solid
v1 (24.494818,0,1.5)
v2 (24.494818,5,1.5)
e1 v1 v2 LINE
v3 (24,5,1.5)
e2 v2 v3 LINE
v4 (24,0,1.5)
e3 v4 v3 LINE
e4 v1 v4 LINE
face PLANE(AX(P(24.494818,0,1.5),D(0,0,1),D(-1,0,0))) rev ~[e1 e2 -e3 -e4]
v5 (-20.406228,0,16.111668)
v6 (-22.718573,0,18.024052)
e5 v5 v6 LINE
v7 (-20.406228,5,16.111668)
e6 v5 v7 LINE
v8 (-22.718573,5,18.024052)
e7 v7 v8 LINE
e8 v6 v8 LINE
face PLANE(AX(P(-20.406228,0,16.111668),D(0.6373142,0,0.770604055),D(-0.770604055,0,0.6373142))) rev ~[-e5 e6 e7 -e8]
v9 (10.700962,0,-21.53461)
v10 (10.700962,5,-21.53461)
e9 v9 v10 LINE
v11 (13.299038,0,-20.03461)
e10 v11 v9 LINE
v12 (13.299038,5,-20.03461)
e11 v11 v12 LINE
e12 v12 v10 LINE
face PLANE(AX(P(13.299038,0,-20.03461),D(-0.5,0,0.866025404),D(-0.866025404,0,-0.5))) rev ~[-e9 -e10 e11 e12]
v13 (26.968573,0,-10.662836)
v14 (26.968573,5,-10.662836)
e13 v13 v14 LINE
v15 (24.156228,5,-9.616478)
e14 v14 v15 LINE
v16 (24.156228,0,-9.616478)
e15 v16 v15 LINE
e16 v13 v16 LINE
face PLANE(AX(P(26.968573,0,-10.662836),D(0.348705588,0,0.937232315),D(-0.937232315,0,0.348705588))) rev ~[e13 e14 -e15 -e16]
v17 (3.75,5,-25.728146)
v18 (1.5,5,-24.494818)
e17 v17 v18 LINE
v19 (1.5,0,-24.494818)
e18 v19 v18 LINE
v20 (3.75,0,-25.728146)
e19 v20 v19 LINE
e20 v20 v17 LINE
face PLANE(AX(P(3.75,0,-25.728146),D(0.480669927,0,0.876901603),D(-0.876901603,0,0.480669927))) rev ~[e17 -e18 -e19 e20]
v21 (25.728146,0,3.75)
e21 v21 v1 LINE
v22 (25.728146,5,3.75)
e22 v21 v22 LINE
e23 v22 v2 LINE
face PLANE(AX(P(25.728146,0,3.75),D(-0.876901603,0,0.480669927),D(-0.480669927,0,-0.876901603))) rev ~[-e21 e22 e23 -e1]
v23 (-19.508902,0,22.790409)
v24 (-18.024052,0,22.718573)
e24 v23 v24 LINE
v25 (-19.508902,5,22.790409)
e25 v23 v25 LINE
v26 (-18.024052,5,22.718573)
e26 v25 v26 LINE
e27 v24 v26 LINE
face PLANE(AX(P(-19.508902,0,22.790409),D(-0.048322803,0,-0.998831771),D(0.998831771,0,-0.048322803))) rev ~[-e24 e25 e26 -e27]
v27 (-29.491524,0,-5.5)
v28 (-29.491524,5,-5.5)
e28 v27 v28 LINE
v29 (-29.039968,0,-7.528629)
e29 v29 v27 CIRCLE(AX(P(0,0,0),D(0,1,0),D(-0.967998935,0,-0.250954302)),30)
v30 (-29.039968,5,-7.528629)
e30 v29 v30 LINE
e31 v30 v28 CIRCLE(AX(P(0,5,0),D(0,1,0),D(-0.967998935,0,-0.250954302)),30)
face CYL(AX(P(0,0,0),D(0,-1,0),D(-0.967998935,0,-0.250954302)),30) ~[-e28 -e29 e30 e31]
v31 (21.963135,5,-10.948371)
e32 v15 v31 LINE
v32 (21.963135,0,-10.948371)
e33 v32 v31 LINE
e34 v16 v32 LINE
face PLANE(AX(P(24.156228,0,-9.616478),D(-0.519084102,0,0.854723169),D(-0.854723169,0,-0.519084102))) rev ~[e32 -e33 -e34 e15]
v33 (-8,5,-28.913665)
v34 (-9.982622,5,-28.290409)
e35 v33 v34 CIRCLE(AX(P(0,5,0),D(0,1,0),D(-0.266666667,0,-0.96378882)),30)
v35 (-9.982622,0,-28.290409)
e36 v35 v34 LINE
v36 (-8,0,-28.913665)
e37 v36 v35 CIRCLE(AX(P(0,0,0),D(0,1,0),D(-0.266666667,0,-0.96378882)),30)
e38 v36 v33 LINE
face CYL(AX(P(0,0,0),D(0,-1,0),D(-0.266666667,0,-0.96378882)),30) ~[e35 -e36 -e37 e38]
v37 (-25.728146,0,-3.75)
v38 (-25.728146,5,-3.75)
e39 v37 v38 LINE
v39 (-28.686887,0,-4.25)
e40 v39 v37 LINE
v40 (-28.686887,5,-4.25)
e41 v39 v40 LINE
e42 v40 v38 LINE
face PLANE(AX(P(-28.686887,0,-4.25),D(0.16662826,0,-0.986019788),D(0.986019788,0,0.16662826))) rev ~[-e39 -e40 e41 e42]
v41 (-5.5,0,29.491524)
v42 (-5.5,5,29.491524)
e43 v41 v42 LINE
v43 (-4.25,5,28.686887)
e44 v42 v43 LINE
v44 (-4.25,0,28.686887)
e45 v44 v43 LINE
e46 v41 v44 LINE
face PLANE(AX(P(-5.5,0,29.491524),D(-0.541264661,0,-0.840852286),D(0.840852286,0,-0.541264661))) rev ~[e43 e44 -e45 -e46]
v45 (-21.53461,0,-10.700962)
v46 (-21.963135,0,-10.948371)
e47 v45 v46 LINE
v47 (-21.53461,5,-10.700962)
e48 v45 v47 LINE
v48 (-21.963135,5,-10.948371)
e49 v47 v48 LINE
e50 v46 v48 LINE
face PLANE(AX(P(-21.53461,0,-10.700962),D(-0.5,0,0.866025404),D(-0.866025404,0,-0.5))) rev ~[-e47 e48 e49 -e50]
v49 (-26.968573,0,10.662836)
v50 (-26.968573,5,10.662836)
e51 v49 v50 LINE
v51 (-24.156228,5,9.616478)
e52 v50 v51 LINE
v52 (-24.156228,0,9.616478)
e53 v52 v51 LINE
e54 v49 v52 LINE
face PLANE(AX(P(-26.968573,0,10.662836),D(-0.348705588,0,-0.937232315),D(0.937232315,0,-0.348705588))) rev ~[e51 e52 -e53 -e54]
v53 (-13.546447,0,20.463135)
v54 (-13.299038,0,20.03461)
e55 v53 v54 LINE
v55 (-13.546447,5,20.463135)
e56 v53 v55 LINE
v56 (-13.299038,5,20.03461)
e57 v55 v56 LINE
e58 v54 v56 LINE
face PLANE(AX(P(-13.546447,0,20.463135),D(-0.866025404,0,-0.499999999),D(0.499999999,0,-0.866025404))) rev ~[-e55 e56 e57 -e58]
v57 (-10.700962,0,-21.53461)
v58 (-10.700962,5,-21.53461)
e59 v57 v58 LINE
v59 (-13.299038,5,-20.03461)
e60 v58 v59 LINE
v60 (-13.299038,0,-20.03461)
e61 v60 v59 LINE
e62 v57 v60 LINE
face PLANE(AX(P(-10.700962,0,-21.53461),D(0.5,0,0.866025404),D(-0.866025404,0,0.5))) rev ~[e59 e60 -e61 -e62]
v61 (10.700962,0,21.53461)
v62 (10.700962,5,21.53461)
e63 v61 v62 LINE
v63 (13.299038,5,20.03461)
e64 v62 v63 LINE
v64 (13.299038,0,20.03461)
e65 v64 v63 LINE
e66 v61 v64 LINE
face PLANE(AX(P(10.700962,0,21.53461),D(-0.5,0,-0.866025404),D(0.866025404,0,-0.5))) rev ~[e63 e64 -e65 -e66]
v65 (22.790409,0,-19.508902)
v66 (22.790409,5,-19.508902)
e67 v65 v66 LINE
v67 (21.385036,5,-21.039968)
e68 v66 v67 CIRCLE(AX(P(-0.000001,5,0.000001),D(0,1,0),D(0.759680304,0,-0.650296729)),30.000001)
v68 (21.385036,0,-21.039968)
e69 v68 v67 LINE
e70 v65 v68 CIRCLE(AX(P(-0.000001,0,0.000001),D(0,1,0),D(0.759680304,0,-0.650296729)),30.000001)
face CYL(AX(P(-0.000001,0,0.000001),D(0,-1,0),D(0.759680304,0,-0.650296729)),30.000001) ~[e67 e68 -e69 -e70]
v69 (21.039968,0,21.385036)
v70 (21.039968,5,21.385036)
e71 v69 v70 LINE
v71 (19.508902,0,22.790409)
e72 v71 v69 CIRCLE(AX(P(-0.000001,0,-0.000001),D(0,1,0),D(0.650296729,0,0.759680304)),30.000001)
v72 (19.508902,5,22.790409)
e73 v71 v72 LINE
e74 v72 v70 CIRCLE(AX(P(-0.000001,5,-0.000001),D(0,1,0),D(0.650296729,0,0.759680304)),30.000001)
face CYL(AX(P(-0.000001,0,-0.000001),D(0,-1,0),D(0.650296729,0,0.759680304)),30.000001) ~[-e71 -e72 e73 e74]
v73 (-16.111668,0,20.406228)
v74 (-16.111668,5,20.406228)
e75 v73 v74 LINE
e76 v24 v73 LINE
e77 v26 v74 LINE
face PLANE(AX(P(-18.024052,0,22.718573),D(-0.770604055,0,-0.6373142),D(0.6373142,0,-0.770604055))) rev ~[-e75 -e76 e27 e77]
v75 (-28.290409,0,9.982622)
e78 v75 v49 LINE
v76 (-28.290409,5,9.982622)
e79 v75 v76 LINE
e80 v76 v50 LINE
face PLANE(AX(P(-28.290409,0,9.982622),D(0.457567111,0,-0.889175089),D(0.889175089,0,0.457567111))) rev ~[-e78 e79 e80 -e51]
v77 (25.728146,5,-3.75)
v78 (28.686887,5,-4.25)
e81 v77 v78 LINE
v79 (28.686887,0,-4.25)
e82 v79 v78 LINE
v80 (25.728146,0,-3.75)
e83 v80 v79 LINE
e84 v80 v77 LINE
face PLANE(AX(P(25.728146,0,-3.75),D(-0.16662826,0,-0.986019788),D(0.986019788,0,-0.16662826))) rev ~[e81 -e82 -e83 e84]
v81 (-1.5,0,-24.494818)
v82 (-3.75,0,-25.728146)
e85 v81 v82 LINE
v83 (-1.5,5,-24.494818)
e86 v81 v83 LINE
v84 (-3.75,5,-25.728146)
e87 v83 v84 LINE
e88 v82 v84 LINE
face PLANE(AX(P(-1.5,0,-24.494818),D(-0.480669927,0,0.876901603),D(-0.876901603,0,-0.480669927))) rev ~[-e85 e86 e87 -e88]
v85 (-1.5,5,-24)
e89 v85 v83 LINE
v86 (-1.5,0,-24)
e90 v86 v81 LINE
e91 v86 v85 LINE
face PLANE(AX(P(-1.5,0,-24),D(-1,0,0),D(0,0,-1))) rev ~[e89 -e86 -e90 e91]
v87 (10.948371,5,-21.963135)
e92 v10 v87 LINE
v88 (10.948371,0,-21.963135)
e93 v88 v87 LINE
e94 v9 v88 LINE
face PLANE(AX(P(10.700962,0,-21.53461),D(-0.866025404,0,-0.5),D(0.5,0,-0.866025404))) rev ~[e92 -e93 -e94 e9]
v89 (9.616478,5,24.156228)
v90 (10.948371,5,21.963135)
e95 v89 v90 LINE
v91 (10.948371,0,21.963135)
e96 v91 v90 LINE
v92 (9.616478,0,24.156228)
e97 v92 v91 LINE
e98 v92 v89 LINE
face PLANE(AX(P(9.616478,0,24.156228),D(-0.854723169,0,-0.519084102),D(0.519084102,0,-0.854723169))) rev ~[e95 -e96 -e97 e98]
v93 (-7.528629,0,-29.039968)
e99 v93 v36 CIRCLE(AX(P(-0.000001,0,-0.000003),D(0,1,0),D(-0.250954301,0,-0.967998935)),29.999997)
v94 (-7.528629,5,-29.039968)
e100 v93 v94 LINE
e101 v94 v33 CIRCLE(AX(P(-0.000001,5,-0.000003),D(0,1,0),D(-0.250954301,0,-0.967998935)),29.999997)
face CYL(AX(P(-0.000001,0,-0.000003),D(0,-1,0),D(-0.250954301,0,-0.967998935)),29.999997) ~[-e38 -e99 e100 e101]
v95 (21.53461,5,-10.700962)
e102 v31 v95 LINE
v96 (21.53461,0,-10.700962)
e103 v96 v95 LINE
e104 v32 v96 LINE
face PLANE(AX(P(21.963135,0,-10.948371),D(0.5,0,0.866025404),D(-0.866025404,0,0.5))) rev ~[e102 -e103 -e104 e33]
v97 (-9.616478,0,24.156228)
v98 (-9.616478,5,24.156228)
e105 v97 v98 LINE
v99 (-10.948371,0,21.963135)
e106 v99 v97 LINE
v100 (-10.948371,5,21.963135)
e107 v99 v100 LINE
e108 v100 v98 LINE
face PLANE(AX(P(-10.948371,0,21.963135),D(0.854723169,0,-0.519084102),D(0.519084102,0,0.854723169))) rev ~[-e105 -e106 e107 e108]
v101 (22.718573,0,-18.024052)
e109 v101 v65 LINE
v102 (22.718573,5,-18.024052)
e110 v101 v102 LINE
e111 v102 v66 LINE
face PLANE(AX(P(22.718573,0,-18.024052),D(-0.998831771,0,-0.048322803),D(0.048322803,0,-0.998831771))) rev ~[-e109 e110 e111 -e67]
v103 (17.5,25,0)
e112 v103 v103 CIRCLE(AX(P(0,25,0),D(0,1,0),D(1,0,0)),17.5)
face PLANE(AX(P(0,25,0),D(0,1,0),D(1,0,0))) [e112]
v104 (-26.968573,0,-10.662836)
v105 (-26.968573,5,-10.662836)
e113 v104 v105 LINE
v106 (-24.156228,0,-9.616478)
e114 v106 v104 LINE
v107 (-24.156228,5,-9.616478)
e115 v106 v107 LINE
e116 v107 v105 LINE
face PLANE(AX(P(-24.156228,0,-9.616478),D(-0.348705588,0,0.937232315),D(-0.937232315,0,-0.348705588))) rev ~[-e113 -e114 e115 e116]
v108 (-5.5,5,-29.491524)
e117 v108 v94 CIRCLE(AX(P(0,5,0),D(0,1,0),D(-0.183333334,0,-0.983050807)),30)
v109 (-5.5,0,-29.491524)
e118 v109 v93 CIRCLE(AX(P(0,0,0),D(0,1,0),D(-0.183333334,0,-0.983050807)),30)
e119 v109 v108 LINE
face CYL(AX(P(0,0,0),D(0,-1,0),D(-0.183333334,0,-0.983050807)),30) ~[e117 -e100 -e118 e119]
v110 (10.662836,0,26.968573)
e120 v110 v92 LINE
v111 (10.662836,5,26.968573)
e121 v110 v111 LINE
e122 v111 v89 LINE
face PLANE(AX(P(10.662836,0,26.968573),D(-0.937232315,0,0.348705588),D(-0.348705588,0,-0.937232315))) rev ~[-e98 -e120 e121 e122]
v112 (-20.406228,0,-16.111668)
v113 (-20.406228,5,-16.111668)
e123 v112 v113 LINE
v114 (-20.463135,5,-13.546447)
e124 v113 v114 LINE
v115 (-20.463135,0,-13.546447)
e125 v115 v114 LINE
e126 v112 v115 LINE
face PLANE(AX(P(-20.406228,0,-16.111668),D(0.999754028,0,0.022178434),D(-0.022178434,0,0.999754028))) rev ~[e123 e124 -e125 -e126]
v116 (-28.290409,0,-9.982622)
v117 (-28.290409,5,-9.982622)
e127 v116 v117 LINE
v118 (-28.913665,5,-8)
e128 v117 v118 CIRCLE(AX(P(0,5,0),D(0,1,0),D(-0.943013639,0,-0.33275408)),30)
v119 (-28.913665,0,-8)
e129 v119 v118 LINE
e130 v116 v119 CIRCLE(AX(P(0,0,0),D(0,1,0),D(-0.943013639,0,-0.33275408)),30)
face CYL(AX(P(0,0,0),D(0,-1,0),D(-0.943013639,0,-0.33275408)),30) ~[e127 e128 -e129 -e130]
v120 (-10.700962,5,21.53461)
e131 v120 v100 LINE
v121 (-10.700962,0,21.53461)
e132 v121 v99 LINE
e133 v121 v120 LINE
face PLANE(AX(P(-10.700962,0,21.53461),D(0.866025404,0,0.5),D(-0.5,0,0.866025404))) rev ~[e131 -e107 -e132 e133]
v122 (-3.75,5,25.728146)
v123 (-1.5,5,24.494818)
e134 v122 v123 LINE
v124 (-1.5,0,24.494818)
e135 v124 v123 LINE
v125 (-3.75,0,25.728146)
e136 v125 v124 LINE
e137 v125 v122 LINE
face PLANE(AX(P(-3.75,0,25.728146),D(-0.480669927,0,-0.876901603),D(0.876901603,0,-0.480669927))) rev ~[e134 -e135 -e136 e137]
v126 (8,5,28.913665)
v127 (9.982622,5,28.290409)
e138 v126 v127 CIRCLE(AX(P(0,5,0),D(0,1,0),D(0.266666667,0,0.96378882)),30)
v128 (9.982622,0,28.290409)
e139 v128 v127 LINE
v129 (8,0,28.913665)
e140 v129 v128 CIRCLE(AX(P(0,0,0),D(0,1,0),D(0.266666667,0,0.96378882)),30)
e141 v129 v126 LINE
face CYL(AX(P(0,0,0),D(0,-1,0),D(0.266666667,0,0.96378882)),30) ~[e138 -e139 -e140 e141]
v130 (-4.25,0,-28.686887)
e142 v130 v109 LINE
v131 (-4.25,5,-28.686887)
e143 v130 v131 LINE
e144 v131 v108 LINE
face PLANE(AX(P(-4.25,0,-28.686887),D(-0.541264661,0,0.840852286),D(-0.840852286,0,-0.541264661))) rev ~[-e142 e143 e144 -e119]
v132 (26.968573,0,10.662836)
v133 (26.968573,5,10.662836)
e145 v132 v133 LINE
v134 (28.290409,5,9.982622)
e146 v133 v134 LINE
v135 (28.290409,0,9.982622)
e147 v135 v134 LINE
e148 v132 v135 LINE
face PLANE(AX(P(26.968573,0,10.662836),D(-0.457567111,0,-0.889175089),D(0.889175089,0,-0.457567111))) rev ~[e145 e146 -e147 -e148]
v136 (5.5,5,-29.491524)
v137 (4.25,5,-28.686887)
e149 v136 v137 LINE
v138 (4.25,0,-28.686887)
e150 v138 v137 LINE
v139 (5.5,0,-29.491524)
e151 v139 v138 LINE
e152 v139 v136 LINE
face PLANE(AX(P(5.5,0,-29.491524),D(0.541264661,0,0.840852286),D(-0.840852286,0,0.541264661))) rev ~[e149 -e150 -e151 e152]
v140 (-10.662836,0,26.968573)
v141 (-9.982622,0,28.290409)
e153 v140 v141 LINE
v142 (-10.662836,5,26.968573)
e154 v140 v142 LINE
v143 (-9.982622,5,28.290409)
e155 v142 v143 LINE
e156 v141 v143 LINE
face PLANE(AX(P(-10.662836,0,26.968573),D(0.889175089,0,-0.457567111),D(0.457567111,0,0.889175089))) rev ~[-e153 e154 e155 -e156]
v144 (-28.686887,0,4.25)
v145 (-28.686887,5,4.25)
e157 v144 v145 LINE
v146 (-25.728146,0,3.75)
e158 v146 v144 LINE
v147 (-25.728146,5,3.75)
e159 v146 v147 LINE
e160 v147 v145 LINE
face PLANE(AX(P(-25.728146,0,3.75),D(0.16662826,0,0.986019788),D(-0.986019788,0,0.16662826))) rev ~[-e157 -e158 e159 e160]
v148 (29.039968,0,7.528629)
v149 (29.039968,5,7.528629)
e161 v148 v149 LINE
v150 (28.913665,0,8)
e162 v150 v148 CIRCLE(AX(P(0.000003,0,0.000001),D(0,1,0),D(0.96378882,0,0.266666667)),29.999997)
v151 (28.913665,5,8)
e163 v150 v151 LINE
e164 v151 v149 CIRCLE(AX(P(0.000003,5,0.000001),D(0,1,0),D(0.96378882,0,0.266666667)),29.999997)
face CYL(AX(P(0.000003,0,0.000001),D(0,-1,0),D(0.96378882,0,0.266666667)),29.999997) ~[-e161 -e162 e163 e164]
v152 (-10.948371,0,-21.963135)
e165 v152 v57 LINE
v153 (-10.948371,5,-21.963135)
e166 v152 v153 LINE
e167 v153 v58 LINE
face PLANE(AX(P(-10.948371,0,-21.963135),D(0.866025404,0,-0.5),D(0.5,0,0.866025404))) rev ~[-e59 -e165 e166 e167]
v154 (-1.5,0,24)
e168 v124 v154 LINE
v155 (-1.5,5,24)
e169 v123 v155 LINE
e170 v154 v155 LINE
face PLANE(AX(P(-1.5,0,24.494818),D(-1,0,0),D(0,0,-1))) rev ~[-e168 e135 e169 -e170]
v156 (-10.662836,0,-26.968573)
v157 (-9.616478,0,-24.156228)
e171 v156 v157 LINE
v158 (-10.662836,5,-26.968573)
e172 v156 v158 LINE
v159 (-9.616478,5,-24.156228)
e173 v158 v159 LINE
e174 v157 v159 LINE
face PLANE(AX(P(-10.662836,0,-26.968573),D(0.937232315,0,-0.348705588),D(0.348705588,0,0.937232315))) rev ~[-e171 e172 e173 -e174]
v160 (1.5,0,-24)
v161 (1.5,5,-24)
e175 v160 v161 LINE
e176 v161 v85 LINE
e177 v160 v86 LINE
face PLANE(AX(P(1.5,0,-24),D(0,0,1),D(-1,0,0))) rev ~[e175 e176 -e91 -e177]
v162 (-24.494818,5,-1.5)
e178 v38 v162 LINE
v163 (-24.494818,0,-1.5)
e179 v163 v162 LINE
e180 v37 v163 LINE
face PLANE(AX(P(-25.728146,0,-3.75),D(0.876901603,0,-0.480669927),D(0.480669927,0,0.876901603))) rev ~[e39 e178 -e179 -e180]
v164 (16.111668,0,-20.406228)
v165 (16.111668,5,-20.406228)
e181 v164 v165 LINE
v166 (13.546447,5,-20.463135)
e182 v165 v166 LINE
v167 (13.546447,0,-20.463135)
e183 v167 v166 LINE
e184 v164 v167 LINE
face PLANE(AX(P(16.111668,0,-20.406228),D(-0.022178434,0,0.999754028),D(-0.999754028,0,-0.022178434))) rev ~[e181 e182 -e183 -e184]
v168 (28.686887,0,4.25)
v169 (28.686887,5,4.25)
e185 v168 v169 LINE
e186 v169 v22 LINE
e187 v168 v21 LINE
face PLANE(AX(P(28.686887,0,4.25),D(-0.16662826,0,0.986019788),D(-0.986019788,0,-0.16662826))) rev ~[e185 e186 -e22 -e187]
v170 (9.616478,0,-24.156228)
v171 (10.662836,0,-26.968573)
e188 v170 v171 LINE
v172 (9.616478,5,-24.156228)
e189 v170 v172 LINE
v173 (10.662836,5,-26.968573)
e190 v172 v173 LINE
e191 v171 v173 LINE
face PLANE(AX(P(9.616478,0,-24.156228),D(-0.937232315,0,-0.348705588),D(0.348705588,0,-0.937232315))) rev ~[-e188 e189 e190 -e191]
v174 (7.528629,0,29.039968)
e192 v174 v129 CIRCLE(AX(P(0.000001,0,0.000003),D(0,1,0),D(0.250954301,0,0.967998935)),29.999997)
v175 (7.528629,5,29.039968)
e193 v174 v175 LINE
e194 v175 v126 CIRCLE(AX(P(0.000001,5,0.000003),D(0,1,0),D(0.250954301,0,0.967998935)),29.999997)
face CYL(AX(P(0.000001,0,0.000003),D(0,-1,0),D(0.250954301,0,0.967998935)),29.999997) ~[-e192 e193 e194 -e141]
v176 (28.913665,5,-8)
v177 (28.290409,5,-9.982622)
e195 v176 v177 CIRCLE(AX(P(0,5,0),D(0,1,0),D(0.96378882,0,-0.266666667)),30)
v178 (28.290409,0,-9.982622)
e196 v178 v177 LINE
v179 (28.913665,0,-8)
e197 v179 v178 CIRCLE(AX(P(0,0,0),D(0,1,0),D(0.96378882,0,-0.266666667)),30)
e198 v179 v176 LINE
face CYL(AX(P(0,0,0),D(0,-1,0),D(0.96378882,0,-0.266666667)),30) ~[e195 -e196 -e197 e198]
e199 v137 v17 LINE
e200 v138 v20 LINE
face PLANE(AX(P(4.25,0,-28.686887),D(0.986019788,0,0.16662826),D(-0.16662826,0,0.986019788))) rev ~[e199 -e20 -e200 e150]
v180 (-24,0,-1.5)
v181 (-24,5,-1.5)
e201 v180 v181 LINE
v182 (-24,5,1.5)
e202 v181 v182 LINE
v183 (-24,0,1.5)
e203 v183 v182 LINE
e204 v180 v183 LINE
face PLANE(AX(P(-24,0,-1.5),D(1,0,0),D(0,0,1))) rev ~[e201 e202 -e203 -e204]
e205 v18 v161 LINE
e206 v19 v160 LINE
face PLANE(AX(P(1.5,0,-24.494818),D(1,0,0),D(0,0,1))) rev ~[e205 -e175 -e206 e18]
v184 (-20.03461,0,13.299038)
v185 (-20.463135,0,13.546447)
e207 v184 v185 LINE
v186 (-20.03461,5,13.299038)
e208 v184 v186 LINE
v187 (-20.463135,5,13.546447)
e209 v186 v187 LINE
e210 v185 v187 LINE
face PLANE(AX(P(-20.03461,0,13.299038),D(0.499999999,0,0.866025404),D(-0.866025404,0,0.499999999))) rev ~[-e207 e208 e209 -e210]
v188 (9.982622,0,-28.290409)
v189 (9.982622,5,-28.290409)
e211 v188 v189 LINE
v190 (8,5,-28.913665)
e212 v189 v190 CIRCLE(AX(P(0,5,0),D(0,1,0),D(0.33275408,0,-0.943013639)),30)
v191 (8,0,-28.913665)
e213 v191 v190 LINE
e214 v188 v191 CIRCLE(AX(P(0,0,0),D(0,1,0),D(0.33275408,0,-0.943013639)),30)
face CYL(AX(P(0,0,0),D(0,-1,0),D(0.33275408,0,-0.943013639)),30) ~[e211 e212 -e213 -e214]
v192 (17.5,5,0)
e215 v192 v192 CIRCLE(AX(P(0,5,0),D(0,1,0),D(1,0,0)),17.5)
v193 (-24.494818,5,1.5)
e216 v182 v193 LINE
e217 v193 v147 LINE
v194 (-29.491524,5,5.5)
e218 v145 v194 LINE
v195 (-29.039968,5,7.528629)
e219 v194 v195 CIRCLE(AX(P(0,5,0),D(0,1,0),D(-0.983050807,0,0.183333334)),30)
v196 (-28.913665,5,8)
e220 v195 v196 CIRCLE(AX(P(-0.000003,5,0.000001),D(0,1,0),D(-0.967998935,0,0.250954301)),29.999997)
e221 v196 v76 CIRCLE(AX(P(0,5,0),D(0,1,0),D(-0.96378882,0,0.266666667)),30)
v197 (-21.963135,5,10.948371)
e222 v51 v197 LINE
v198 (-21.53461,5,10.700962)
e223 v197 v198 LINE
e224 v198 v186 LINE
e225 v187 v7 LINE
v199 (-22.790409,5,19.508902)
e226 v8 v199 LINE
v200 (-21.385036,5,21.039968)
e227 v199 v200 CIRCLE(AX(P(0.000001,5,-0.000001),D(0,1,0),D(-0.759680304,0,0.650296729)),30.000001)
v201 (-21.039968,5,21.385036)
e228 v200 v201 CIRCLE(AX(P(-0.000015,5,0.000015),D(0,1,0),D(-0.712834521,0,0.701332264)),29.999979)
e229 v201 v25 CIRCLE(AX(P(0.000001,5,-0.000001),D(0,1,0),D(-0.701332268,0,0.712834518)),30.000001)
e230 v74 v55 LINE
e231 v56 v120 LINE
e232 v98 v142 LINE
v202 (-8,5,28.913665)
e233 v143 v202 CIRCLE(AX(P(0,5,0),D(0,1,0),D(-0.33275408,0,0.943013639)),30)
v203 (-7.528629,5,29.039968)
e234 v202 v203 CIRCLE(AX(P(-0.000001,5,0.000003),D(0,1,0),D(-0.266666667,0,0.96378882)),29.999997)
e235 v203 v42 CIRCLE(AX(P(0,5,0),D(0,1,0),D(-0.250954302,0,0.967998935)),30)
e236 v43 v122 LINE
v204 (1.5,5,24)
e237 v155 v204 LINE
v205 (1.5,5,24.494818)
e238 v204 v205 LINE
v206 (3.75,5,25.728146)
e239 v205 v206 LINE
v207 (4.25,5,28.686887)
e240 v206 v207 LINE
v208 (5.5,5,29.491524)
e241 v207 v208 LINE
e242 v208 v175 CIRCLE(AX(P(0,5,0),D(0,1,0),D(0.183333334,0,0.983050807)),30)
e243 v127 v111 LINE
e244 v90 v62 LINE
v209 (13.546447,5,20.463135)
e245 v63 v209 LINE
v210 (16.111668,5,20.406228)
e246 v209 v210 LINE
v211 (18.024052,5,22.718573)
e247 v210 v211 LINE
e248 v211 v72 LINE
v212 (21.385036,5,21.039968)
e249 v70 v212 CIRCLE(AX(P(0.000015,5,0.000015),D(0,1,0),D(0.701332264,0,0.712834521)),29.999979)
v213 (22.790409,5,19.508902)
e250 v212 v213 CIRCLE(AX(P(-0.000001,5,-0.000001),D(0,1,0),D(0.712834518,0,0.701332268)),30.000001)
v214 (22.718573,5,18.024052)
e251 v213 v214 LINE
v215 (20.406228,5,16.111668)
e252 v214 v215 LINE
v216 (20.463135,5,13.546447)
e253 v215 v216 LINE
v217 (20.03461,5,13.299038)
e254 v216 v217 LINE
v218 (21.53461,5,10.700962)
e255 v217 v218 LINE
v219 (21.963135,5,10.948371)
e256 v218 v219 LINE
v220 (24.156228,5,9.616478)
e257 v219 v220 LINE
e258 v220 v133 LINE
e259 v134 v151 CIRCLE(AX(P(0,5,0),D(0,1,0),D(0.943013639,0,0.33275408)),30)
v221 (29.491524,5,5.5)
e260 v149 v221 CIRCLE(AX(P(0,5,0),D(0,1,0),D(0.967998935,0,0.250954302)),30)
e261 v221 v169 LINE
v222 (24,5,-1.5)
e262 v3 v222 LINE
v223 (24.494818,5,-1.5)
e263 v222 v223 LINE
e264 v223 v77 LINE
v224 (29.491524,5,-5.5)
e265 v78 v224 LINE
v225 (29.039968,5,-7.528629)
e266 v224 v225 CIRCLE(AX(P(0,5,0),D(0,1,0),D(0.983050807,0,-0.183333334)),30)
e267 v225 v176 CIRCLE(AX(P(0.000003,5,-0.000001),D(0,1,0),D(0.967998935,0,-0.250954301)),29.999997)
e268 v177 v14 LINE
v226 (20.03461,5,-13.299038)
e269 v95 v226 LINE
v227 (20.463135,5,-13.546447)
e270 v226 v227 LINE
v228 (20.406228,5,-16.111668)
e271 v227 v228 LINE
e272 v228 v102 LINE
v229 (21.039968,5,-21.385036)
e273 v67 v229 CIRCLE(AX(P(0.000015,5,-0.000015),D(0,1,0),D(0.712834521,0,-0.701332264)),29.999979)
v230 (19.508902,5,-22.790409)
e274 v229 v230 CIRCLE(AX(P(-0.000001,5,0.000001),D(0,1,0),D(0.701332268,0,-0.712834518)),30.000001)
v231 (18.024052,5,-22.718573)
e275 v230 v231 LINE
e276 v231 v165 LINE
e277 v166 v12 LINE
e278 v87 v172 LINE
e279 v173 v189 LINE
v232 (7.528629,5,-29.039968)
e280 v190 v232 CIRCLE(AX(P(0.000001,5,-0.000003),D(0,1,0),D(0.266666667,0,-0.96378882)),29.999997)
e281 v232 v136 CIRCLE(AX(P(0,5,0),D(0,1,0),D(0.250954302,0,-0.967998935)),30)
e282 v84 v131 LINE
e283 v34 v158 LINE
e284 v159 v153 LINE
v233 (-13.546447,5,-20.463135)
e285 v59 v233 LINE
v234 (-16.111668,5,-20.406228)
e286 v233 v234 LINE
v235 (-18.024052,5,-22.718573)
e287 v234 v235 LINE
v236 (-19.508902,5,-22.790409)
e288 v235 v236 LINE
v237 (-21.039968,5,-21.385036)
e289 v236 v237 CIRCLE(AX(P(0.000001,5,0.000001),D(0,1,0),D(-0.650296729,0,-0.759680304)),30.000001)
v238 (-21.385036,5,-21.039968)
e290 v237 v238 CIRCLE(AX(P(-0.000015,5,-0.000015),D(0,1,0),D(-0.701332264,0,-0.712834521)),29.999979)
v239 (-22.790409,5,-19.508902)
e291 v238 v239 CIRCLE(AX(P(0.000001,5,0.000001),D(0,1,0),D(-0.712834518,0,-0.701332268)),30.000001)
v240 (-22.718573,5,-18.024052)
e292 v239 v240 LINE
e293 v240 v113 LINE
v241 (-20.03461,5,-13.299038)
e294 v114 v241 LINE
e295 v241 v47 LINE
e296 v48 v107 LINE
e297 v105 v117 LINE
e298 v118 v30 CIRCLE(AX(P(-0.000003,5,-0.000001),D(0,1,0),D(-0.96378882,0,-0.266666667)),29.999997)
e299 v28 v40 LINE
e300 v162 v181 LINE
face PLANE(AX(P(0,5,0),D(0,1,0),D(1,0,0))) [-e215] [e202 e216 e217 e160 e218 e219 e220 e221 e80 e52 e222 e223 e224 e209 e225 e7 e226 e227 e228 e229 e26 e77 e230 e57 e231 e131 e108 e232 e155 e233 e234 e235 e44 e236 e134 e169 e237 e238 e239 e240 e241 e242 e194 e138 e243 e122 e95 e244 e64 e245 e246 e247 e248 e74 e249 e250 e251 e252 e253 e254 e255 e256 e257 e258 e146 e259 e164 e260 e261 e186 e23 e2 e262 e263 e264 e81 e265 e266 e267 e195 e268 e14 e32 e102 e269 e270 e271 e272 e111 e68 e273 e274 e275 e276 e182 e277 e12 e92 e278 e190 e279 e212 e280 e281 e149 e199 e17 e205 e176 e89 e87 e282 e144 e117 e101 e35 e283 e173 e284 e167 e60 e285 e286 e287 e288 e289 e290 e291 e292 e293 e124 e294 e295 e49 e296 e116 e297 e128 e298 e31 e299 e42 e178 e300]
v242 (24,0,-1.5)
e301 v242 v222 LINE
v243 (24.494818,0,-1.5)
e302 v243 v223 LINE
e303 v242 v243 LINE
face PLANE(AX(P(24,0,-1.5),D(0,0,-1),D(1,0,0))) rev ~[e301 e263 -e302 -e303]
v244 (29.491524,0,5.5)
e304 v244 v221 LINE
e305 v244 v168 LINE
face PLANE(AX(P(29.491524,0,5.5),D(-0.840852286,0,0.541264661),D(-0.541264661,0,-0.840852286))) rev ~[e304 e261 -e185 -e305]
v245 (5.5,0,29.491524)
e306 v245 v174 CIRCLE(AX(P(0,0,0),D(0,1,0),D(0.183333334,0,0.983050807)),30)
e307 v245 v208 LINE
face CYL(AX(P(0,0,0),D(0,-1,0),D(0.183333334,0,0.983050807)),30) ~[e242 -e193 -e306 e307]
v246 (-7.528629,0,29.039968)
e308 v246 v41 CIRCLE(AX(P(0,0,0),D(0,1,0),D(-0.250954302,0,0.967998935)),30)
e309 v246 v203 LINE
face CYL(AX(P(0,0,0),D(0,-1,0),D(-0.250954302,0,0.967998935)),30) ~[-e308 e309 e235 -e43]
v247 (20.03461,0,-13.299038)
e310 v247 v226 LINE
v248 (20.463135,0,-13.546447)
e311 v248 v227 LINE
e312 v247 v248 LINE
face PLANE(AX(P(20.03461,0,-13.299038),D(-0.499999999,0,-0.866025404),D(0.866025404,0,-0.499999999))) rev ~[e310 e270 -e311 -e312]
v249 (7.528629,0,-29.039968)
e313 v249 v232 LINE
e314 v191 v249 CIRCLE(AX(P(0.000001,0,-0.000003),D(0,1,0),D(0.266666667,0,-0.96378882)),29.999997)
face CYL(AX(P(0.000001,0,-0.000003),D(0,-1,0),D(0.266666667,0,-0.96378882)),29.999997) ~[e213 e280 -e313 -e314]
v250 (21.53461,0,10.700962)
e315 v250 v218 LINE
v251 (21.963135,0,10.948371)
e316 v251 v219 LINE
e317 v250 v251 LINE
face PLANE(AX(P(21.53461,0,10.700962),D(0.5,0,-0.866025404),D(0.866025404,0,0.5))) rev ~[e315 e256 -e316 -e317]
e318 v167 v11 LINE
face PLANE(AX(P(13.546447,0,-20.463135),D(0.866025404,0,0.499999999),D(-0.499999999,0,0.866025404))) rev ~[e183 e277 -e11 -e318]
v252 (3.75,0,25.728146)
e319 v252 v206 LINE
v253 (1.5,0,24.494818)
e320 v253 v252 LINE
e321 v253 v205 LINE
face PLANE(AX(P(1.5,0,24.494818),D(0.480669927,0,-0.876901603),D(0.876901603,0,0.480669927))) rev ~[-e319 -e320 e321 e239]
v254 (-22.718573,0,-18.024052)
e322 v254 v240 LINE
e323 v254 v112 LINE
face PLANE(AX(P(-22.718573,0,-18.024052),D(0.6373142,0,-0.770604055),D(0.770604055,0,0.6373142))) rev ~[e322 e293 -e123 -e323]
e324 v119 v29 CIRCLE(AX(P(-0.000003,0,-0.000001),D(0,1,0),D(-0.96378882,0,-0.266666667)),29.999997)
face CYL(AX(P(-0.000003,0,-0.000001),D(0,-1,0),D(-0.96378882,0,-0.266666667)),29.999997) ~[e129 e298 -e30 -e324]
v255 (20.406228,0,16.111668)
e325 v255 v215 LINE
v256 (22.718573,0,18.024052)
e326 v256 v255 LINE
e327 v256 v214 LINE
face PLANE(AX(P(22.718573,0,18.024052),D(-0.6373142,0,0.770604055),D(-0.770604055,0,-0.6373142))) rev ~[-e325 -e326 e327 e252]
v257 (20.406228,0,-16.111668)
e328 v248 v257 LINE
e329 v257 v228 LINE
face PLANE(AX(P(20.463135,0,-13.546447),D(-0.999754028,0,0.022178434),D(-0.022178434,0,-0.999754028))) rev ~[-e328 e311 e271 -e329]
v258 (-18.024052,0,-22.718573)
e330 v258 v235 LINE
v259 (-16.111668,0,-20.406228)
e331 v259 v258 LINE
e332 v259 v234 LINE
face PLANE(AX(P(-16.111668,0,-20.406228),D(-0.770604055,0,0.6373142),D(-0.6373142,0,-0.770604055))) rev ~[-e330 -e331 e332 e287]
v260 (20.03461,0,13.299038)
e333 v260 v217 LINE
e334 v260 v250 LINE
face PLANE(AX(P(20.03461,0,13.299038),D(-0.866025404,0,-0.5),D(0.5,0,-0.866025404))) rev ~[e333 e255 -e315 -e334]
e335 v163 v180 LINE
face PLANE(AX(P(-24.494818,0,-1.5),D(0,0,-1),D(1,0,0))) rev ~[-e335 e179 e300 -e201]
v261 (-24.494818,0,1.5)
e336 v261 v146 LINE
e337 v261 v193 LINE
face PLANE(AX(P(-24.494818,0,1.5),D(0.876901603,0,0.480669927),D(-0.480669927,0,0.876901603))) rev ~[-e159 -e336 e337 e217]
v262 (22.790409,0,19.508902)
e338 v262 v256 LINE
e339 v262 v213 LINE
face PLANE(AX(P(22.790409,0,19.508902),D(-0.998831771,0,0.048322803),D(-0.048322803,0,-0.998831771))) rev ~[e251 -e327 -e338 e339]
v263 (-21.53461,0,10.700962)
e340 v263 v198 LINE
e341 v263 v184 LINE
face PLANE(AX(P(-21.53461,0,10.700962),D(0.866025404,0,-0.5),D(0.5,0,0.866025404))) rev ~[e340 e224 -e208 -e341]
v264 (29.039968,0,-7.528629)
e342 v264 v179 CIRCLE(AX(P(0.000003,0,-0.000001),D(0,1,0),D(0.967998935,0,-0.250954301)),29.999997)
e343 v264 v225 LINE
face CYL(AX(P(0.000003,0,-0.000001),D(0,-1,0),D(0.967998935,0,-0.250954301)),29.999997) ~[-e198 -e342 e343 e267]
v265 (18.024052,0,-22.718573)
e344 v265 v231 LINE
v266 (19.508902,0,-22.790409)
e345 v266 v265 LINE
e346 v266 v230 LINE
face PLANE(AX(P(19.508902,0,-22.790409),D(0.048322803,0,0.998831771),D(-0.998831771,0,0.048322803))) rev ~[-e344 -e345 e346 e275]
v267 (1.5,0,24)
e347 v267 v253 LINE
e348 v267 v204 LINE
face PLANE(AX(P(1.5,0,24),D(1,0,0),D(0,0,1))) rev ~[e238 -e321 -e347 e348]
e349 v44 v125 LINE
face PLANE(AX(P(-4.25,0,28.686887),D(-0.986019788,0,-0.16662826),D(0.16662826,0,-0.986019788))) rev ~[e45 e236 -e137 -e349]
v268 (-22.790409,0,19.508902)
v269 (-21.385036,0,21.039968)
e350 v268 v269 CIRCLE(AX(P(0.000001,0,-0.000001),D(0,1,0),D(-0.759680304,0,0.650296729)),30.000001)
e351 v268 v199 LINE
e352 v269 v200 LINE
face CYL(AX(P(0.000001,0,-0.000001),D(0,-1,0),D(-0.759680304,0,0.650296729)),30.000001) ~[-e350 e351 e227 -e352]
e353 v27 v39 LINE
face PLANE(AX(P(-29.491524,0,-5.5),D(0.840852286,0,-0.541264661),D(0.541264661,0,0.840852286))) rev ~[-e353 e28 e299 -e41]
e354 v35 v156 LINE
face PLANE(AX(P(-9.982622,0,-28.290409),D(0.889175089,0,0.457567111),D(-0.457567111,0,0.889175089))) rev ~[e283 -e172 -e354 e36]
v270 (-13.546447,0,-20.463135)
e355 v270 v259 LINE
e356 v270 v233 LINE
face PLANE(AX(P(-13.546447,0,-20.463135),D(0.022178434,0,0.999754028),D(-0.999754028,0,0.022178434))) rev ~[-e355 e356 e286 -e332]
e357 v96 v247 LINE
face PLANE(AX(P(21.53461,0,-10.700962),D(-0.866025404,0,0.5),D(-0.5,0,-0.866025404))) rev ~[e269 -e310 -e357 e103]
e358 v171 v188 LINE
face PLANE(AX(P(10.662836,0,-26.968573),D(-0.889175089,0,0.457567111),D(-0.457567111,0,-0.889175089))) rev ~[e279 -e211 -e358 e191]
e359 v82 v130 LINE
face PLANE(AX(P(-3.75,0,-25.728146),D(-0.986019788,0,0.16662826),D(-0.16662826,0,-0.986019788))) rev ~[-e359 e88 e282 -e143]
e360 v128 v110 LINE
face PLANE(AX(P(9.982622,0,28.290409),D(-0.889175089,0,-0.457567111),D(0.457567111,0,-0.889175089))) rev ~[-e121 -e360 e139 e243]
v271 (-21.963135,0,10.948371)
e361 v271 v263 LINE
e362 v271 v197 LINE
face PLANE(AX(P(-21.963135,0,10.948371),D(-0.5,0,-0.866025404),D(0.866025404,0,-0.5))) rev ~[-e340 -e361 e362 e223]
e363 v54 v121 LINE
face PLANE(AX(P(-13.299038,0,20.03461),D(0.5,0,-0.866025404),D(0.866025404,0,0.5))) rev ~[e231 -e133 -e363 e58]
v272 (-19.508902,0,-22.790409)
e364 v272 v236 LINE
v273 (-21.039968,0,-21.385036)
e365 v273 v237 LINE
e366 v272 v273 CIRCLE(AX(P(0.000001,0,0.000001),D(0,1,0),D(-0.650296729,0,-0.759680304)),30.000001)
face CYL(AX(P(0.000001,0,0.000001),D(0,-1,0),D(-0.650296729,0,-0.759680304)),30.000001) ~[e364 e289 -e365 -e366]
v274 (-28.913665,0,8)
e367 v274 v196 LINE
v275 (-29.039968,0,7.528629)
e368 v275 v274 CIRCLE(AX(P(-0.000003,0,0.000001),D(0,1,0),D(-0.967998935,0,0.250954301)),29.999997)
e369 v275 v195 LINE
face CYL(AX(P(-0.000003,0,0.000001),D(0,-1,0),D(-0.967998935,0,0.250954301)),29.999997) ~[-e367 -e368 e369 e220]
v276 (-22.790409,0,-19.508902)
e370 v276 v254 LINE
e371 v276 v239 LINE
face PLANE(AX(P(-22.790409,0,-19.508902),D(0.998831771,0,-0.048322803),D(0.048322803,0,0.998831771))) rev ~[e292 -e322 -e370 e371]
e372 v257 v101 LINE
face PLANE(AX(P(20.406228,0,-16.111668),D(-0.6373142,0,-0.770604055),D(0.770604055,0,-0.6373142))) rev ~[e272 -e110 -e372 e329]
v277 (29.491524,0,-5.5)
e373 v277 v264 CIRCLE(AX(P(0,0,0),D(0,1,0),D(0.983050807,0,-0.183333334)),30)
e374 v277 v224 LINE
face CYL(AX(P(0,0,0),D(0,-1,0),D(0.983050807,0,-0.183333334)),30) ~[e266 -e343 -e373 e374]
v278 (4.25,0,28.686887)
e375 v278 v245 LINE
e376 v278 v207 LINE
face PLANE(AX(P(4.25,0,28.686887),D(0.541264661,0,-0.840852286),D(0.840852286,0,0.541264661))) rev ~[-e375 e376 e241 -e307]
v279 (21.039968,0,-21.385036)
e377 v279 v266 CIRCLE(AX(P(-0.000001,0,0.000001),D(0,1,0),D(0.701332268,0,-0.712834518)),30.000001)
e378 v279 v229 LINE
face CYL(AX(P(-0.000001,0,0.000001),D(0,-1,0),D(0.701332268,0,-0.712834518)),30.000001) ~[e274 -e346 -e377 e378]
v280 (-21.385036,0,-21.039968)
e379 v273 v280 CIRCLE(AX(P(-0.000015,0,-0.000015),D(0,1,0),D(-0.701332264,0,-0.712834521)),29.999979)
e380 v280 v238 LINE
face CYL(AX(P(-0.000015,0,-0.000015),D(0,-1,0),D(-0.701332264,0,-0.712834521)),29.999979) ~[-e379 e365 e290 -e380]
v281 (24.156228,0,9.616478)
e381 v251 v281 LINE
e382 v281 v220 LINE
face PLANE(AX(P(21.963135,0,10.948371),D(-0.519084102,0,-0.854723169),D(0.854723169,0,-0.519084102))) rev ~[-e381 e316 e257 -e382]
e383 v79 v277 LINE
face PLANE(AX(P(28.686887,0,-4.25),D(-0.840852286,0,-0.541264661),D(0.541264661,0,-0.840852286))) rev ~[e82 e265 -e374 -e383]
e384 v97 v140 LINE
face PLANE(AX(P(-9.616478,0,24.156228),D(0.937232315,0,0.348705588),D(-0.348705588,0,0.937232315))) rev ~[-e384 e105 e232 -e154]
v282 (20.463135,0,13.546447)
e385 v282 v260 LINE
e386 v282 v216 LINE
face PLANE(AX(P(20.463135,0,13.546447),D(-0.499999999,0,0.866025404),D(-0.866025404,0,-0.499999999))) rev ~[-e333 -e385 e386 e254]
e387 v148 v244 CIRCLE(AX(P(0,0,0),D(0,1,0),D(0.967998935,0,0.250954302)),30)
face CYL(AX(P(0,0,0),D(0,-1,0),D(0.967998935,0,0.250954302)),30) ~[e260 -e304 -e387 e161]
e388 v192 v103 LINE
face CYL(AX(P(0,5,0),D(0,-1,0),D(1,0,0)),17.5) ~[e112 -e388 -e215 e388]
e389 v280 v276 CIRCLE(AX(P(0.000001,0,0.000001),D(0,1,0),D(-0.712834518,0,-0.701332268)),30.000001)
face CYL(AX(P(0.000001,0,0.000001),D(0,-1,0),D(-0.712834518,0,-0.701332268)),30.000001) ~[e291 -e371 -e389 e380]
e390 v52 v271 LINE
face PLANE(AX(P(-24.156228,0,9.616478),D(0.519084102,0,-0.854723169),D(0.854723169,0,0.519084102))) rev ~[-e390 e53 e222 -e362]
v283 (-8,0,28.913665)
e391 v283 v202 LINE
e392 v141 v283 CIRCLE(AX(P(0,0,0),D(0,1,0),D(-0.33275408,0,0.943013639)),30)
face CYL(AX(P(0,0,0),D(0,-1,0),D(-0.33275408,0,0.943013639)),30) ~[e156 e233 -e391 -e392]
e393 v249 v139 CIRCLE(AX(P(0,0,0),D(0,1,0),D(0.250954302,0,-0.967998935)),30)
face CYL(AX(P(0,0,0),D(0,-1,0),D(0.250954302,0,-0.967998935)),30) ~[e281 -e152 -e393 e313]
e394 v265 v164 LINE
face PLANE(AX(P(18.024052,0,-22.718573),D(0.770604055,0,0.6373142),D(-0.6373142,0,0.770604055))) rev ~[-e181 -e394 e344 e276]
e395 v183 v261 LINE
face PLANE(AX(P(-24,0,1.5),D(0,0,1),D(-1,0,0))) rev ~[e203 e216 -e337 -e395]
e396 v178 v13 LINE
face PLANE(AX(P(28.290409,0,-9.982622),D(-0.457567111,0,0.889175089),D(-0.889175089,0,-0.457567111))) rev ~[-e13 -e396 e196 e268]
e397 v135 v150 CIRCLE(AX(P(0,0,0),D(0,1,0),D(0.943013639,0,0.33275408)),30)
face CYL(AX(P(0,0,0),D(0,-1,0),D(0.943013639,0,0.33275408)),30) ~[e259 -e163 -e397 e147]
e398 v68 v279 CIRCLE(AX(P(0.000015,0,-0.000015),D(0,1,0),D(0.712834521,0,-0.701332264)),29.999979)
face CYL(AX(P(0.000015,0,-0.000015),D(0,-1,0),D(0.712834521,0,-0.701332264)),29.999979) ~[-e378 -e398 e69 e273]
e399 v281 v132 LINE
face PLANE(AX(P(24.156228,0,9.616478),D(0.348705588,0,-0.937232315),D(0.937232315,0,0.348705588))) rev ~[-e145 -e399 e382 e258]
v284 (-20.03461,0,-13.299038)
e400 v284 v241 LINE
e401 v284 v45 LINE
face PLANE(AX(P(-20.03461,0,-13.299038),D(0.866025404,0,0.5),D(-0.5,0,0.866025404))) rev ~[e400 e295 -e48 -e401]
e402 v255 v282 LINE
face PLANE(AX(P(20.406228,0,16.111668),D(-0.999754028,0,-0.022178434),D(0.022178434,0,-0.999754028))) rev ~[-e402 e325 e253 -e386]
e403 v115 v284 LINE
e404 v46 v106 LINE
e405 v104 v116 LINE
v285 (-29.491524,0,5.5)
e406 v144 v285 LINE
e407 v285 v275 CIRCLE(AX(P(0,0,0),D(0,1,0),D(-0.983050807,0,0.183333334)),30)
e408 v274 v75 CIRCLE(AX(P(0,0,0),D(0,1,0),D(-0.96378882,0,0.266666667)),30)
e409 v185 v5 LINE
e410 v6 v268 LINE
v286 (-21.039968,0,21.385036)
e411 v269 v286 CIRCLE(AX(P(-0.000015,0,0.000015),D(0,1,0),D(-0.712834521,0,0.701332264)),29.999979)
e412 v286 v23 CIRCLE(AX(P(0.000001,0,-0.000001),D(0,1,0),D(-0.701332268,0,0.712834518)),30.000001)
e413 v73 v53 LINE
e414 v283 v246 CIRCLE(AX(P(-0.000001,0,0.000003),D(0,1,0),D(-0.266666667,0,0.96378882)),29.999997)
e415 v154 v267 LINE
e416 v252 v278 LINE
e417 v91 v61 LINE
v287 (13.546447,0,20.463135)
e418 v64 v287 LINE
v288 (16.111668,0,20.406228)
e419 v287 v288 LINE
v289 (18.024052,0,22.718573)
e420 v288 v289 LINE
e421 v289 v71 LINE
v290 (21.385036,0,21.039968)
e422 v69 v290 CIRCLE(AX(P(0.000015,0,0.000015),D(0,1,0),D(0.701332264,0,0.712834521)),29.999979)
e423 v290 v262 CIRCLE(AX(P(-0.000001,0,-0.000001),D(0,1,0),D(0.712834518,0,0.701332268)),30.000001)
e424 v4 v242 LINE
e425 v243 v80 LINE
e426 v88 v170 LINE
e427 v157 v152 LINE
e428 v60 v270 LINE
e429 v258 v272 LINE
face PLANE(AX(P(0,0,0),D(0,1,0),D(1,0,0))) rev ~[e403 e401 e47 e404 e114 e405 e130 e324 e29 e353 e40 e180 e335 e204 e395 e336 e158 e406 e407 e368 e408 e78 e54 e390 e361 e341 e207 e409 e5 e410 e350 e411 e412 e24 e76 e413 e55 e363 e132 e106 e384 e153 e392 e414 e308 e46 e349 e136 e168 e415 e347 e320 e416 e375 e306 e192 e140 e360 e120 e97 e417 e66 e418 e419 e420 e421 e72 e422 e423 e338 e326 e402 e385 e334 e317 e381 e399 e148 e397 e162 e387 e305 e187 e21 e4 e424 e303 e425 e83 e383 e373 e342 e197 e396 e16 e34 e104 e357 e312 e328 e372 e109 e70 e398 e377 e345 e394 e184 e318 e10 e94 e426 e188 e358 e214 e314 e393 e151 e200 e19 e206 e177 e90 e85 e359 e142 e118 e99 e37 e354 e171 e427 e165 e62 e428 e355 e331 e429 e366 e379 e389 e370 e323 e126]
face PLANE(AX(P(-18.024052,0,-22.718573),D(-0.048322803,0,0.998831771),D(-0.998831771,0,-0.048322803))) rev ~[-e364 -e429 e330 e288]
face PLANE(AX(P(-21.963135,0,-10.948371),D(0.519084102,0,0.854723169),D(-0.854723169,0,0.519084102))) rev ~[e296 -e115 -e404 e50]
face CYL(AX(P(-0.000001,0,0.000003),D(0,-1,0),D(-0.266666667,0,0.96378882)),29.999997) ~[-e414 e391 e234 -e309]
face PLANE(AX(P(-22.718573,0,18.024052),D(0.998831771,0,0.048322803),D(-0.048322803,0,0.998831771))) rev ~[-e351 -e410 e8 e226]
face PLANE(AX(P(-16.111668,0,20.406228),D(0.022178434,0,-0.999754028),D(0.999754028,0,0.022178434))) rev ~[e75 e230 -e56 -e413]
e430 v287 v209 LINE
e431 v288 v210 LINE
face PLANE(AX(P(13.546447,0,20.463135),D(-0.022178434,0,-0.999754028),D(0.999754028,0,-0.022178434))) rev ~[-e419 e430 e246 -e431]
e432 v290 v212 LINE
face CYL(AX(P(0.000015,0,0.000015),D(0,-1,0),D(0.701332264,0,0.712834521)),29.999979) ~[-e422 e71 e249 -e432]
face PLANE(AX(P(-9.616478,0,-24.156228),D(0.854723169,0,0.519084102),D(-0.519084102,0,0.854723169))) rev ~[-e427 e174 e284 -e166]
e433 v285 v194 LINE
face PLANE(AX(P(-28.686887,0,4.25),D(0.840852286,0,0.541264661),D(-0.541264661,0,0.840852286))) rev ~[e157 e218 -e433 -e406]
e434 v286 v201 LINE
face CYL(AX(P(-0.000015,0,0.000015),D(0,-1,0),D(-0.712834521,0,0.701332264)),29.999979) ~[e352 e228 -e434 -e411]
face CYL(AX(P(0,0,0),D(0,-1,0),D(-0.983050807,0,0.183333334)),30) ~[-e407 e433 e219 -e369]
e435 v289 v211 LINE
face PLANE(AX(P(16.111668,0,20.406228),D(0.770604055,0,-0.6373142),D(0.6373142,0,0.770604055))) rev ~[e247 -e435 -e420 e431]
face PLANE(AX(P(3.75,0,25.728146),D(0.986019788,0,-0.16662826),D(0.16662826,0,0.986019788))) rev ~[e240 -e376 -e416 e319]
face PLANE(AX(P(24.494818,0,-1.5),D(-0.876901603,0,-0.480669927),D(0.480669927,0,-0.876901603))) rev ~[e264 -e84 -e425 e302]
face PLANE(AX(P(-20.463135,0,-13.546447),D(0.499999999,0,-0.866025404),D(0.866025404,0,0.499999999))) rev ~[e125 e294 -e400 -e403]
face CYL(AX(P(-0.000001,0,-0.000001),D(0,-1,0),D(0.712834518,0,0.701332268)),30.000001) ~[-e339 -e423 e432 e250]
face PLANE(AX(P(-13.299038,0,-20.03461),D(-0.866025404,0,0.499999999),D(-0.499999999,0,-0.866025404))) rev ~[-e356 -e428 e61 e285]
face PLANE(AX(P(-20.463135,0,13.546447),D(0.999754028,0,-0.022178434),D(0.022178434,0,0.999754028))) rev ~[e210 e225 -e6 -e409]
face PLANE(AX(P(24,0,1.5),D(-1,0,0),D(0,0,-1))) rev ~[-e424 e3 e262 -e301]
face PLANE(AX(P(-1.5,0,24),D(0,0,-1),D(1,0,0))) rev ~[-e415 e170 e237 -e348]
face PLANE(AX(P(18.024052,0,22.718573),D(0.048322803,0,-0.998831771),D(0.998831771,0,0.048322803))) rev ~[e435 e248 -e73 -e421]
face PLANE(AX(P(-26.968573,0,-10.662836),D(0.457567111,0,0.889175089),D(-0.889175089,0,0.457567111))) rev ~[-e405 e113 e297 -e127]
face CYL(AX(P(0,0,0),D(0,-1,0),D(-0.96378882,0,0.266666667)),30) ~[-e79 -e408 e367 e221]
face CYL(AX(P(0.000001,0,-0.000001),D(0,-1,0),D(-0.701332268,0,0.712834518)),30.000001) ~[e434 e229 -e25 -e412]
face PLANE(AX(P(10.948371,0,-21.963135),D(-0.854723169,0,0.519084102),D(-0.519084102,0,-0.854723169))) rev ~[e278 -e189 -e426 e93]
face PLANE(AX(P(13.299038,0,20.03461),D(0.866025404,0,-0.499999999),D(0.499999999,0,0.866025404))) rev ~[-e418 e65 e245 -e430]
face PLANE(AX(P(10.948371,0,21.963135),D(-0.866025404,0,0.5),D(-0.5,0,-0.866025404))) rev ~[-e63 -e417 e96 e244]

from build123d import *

# Parameters (mm, degrees)
BOSS_EXTRUDE1_DEPTH = 5
SKETCH2_R           = 17.5
BOSS_EXTRUDE3_DEPTH = 20


with BuildPart() as part:
    # Sketch1 → Boss-Extrude1 (new body)
    with BuildSketch(Plane(origin=(0, 0, 0), x_dir=(1, 0, 0), z_dir=(0, 1, 0))):
        with BuildLine():
            Line((-1.5, 24.494818027), (-3.75, 25.728146066))
            Line((-3.75, 25.728146066), (-4.25, 28.686887248))
            Line((-4.25, 28.686887248), (-5.5, 29.491524206))
            ThreePointArc((-5.5, 29.491524206), (-6.518225952, 29.283318296), (-7.528629065, 29.039968051))
            ThreePointArc((-7.528629065, 29.039968051), (-7.764571353, 28.977774789), (-8, 28.91366459))
            ThreePointArc((-8, 28.91366459), (-8.996709886, 28.619210528), (-9.982622382, 28.290409159))
            Line((-9.982622382, 28.290409159), (-10.662835658, 26.968573113))
            Line((-10.662835658, 26.968573113), (-9.616477769, 24.156228086))
            Line((-9.616477769, 24.156228086), (-10.948370908, 21.963134673))
            Line((-10.948370908, 21.963134673), (-10.700961894, 21.534609691))
            Line((-10.700961894, 21.534609691), (-13.299038106, 20.034609691))
            Line((-13.299038106, 20.034609691), (-13.546447119, 20.463134673))
            Line((-13.546447119, 20.463134673), (-16.111668297, 20.406228086))
            Line((-16.111668297, 20.406228086), (-18.02405159, 22.718573113))
            Line((-18.02405159, 22.718573113), (-19.508901824, 22.790409159))
            ThreePointArc((-19.508901824, 22.790409159), (-20.28660841, 22.100984575), (-21.039968051, 21.385035525))
            ThreePointArc((-21.039968051, 21.385035525), (-21.213203436, 21.213203436), (-21.385035525, 21.039968051))
            ThreePointArc((-21.385035525, 21.039968051), (-22.100984575, 20.28660841), (-22.790409159, 19.508901824))
            Line((-22.790409159, 19.508901824), (-22.718573113, 18.02405159))
            Line((-22.718573113, 18.02405159), (-20.406228086, 16.111668297))
            Line((-20.406228086, 16.111668297), (-20.463134673, 13.546447119))
            Line((-20.463134673, 13.546447119), (-20.034609691, 13.299038106))
            Line((-20.034609691, 13.299038106), (-21.534609691, 10.700961894))
            Line((-21.534609691, 10.700961894), (-21.963134673, 10.948370908))
            Line((-21.963134673, 10.948370908), (-24.156228086, 9.616477769))
            Line((-24.156228086, 9.616477769), (-26.968573113, 10.662835658))
            Line((-26.968573113, 10.662835658), (-28.290409159, 9.982622382))
            ThreePointArc((-28.290409159, 9.982622382), (-28.619210528, 8.996709886), (-28.91366459, 8))
            ThreePointArc((-28.91366459, 8), (-28.977774789, 7.764571353), (-29.039968051, 7.528629065))
            ThreePointArc((-29.039968051, 7.528629065), (-29.283318296, 6.518225952), (-29.491524206, 5.5))
            Line((-29.491524206, 5.5), (-28.686887248, 4.25))
            Line((-28.686887248, 4.25), (-25.728146066, 3.75))
            Line((-25.728146066, 3.75), (-24.494818027, 1.5))
            Line((-24.494818027, 1.5), (-24, 1.5))
            Line((-24, 1.5), (-24, -1.5))
            Line((-24, -1.5), (-24.494818027, -1.5))
            Line((-24.494818027, -1.5), (-25.728146066, -3.75))
            Line((-25.728146066, -3.75), (-28.686887248, -4.25))
            Line((-28.686887248, -4.25), (-29.491524206, -5.5))
            ThreePointArc((-29.491524206, -5.5), (-29.283318296, -6.518225952), (-29.039968051, -7.528629065))
            ThreePointArc((-29.039968051, -7.528629065), (-28.977774789, -7.764571353), (-28.91366459, -8))
            ThreePointArc((-28.91366459, -8), (-28.619210528, -8.996709886), (-28.290409159, -9.982622382))
            Line((-28.290409159, -9.982622382), (-26.968573113, -10.662835658))
            Line((-26.968573113, -10.662835658), (-24.156228086, -9.616477769))
            Line((-24.156228086, -9.616477769), (-21.963134673, -10.948370908))
            Line((-21.963134673, -10.948370908), (-21.534609691, -10.700961894))
            Line((-21.534609691, -10.700961894), (-20.034609691, -13.299038106))
            Line((-20.034609691, -13.299038106), (-20.463134673, -13.546447119))
            Line((-20.463134673, -13.546447119), (-20.406228086, -16.111668297))
            Line((-20.406228086, -16.111668297), (-22.718573113, -18.02405159))
            Line((-22.718573113, -18.02405159), (-22.790409159, -19.508901824))
            ThreePointArc((-22.790409159, -19.508901824), (-22.100984575, -20.28660841), (-21.385035525, -21.039968051))
            ThreePointArc((-21.385035525, -21.039968051), (-21.213203436, -21.213203436), (-21.039968051, -21.385035525))
            ThreePointArc((-21.039968051, -21.385035525), (-20.28660841, -22.100984575), (-19.508901824, -22.790409159))
            Line((-19.508901824, -22.790409159), (-18.02405159, -22.718573113))
            Line((-18.02405159, -22.718573113), (-16.111668297, -20.406228086))
            Line((-16.111668297, -20.406228086), (-13.546447119, -20.463134673))
            Line((-13.546447119, -20.463134673), (-13.299038106, -20.034609691))
            Line((-13.299038106, -20.034609691), (-10.700961894, -21.534609691))
            Line((-10.700961894, -21.534609691), (-10.948370908, -21.963134673))
            Line((-10.948370908, -21.963134673), (-9.616477769, -24.156228086))
            Line((-9.616477769, -24.156228086), (-10.662835658, -26.968573113))
            Line((-10.662835658, -26.968573113), (-9.982622382, -28.290409159))
            ThreePointArc((-9.982622382, -28.290409159), (-8.996709886, -28.619210528), (-8, -28.91366459))
            ThreePointArc((-8, -28.91366459), (-7.764571353, -28.977774789), (-7.528629065, -29.039968051))
            ThreePointArc((-7.528629065, -29.039968051), (-6.518225952, -29.283318296), (-5.5, -29.491524206))
            Line((-5.5, -29.491524206), (-4.25, -28.686887248))
            Line((-4.25, -28.686887248), (-3.75, -25.728146066))
            Line((-3.75, -25.728146066), (-1.5, -24.494818027))
            Line((-1.5, -24.494818027), (-1.5, -24))
            Line((-1.5, -24), (1.5, -24))
            Line((1.5, -24), (1.5, -24.494818027))
            Line((1.5, -24.494818027), (3.75, -25.728146066))
            Line((3.75, -25.728146066), (4.25, -28.686887248))
            Line((4.25, -28.686887248), (5.5, -29.491524206))
            ThreePointArc((5.5, -29.491524206), (6.518225952, -29.283318296), (7.528629065, -29.039968051))
            ThreePointArc((7.528629065, -29.039968051), (7.764571353, -28.977774789), (8, -28.91366459))
            ThreePointArc((8, -28.91366459), (8.996709886, -28.619210528), (9.982622382, -28.290409159))
            Line((9.982622382, -28.290409159), (10.662835658, -26.968573113))
            Line((10.662835658, -26.968573113), (9.616477769, -24.156228086))
            Line((9.616477769, -24.156228086), (10.948370908, -21.963134673))
            Line((10.948370908, -21.963134673), (10.700961894, -21.534609691))
            Line((10.700961894, -21.534609691), (13.299038106, -20.034609691))
            Line((13.299038106, -20.034609691), (13.546447119, -20.463134673))
            Line((13.546447119, -20.463134673), (16.111668297, -20.406228086))
            Line((16.111668297, -20.406228086), (18.02405159, -22.718573113))
            Line((18.02405159, -22.718573113), (19.508901824, -22.790409159))
            ThreePointArc((19.508901824, -22.790409159), (20.28660841, -22.100984575), (21.039968051, -21.385035525))
            ThreePointArc((21.039968051, -21.385035525), (21.213203436, -21.213203436), (21.385035525, -21.039968051))
            ThreePointArc((21.385035525, -21.039968051), (22.100984575, -20.28660841), (22.790409159, -19.508901824))
            Line((22.790409159, -19.508901824), (22.718573113, -18.02405159))
            Line((22.718573113, -18.02405159), (20.406228086, -16.111668297))
            Line((20.406228086, -16.111668297), (20.463134673, -13.546447119))
            Line((20.463134673, -13.546447119), (20.034609691, -13.299038106))
            Line((20.034609691, -13.299038106), (21.534609691, -10.700961894))
            Line((21.534609691, -10.700961894), (21.963134673, -10.948370908))
            Line((21.963134673, -10.948370908), (24.156228086, -9.616477769))
            Line((24.156228086, -9.616477769), (26.968573113, -10.662835658))
            Line((26.968573113, -10.662835658), (28.290409159, -9.982622382))
            ThreePointArc((28.290409159, -9.982622382), (28.619210528, -8.996709886), (28.91366459, -8))
            ThreePointArc((28.91366459, -8), (28.977774789, -7.764571353), (29.039968051, -7.528629065))
            ThreePointArc((29.039968051, -7.528629065), (29.283318296, -6.518225952), (29.491524206, -5.5))
            Line((29.491524206, -5.5), (28.686887248, -4.25))
            Line((28.686887248, -4.25), (25.728146066, -3.75))
            Line((25.728146066, -3.75), (24.494818027, -1.5))
            Line((24.494818027, -1.5), (24, -1.5))
            Line((24, -1.5), (24, 1.5))
            Line((24, 1.5), (24.494818027, 1.5))
            Line((24.494818027, 1.5), (25.728146066, 3.75))
            Line((25.728146066, 3.75), (28.686887248, 4.25))
            Line((28.686887248, 4.25), (29.491524206, 5.5))
            ThreePointArc((29.491524206, 5.5), (29.283318296, 6.518225952), (29.039968051, 7.528629065))
            ThreePointArc((29.039968051, 7.528629065), (28.977774789, 7.764571353), (28.91366459, 8))
            ThreePointArc((28.91366459, 8), (28.619210528, 8.996709886), (28.290409159, 9.982622382))
            Line((28.290409159, 9.982622382), (26.968573113, 10.662835658))
            Line((26.968573113, 10.662835658), (24.156228086, 9.616477769))
            Line((24.156228086, 9.616477769), (21.963134673, 10.948370908))
            Line((21.963134673, 10.948370908), (21.534609691, 10.700961894))
            Line((21.534609691, 10.700961894), (20.034609691, 13.299038106))
            Line((20.034609691, 13.299038106), (20.463134673, 13.546447119))
            Line((20.463134673, 13.546447119), (20.406228086, 16.111668297))
            Line((20.406228086, 16.111668297), (22.718573113, 18.02405159))
            Line((22.718573113, 18.02405159), (22.790409159, 19.508901824))
            ThreePointArc((22.790409159, 19.508901824), (22.100984575, 20.28660841), (21.385035525, 21.039968051))
            ThreePointArc((21.385035525, 21.039968051), (21.213203436, 21.213203436), (21.039968051, 21.385035525))
            ThreePointArc((21.039968051, 21.385035525), (20.28660841, 22.100984575), (19.508901824, 22.790409159))
            Line((19.508901824, 22.790409159), (18.02405159, 22.718573113))
            Line((18.02405159, 22.718573113), (16.111668297, 20.406228086))
            Line((16.111668297, 20.406228086), (13.546447119, 20.463134673))
            Line((13.546447119, 20.463134673), (13.299038106, 20.034609691))
            Line((13.299038106, 20.034609691), (10.700961894, 21.534609691))
            Line((10.700961894, 21.534609691), (10.948370908, 21.963134673))
            Line((10.948370908, 21.963134673), (9.616477769, 24.156228086))
            Line((9.616477769, 24.156228086), (10.662835658, 26.968573113))
            Line((10.662835658, 26.968573113), (9.982622382, 28.290409159))
            ThreePointArc((9.982622382, 28.290409159), (8.996709886, 28.619210528), (8, 28.91366459))
            ThreePointArc((8, 28.91366459), (7.764571353, 28.977774789), (7.528629065, 29.039968051))
            ThreePointArc((7.528629065, 29.039968051), (6.518225952, 29.283318296), (5.5, 29.491524206))
            Line((5.5, 29.491524206), (4.25, 28.686887248))
            Line((4.25, 28.686887248), (3.75, 25.728146066))
            Line((3.75, 25.728146066), (1.5, 24.494818027))
            Line((1.5, 24.494818027), (1.5, 24))
            Line((1.5, 24), (-1.5, 24))
            Line((-1.5, 24), (-1.5, 24.494818027))
        make_face()
    extrude(amount=BOSS_EXTRUDE1_DEPTH)

    # Sketch2 → Boss-Extrude3 (add)
    with BuildSketch(Plane(origin=(0, 5, 0), x_dir=(1, 0, 0), z_dir=(0, 1, 0))):
        Circle(SKETCH2_R)
    extrude(amount=BOSS_EXTRUDE3_DEPTH)


solid = part.part
